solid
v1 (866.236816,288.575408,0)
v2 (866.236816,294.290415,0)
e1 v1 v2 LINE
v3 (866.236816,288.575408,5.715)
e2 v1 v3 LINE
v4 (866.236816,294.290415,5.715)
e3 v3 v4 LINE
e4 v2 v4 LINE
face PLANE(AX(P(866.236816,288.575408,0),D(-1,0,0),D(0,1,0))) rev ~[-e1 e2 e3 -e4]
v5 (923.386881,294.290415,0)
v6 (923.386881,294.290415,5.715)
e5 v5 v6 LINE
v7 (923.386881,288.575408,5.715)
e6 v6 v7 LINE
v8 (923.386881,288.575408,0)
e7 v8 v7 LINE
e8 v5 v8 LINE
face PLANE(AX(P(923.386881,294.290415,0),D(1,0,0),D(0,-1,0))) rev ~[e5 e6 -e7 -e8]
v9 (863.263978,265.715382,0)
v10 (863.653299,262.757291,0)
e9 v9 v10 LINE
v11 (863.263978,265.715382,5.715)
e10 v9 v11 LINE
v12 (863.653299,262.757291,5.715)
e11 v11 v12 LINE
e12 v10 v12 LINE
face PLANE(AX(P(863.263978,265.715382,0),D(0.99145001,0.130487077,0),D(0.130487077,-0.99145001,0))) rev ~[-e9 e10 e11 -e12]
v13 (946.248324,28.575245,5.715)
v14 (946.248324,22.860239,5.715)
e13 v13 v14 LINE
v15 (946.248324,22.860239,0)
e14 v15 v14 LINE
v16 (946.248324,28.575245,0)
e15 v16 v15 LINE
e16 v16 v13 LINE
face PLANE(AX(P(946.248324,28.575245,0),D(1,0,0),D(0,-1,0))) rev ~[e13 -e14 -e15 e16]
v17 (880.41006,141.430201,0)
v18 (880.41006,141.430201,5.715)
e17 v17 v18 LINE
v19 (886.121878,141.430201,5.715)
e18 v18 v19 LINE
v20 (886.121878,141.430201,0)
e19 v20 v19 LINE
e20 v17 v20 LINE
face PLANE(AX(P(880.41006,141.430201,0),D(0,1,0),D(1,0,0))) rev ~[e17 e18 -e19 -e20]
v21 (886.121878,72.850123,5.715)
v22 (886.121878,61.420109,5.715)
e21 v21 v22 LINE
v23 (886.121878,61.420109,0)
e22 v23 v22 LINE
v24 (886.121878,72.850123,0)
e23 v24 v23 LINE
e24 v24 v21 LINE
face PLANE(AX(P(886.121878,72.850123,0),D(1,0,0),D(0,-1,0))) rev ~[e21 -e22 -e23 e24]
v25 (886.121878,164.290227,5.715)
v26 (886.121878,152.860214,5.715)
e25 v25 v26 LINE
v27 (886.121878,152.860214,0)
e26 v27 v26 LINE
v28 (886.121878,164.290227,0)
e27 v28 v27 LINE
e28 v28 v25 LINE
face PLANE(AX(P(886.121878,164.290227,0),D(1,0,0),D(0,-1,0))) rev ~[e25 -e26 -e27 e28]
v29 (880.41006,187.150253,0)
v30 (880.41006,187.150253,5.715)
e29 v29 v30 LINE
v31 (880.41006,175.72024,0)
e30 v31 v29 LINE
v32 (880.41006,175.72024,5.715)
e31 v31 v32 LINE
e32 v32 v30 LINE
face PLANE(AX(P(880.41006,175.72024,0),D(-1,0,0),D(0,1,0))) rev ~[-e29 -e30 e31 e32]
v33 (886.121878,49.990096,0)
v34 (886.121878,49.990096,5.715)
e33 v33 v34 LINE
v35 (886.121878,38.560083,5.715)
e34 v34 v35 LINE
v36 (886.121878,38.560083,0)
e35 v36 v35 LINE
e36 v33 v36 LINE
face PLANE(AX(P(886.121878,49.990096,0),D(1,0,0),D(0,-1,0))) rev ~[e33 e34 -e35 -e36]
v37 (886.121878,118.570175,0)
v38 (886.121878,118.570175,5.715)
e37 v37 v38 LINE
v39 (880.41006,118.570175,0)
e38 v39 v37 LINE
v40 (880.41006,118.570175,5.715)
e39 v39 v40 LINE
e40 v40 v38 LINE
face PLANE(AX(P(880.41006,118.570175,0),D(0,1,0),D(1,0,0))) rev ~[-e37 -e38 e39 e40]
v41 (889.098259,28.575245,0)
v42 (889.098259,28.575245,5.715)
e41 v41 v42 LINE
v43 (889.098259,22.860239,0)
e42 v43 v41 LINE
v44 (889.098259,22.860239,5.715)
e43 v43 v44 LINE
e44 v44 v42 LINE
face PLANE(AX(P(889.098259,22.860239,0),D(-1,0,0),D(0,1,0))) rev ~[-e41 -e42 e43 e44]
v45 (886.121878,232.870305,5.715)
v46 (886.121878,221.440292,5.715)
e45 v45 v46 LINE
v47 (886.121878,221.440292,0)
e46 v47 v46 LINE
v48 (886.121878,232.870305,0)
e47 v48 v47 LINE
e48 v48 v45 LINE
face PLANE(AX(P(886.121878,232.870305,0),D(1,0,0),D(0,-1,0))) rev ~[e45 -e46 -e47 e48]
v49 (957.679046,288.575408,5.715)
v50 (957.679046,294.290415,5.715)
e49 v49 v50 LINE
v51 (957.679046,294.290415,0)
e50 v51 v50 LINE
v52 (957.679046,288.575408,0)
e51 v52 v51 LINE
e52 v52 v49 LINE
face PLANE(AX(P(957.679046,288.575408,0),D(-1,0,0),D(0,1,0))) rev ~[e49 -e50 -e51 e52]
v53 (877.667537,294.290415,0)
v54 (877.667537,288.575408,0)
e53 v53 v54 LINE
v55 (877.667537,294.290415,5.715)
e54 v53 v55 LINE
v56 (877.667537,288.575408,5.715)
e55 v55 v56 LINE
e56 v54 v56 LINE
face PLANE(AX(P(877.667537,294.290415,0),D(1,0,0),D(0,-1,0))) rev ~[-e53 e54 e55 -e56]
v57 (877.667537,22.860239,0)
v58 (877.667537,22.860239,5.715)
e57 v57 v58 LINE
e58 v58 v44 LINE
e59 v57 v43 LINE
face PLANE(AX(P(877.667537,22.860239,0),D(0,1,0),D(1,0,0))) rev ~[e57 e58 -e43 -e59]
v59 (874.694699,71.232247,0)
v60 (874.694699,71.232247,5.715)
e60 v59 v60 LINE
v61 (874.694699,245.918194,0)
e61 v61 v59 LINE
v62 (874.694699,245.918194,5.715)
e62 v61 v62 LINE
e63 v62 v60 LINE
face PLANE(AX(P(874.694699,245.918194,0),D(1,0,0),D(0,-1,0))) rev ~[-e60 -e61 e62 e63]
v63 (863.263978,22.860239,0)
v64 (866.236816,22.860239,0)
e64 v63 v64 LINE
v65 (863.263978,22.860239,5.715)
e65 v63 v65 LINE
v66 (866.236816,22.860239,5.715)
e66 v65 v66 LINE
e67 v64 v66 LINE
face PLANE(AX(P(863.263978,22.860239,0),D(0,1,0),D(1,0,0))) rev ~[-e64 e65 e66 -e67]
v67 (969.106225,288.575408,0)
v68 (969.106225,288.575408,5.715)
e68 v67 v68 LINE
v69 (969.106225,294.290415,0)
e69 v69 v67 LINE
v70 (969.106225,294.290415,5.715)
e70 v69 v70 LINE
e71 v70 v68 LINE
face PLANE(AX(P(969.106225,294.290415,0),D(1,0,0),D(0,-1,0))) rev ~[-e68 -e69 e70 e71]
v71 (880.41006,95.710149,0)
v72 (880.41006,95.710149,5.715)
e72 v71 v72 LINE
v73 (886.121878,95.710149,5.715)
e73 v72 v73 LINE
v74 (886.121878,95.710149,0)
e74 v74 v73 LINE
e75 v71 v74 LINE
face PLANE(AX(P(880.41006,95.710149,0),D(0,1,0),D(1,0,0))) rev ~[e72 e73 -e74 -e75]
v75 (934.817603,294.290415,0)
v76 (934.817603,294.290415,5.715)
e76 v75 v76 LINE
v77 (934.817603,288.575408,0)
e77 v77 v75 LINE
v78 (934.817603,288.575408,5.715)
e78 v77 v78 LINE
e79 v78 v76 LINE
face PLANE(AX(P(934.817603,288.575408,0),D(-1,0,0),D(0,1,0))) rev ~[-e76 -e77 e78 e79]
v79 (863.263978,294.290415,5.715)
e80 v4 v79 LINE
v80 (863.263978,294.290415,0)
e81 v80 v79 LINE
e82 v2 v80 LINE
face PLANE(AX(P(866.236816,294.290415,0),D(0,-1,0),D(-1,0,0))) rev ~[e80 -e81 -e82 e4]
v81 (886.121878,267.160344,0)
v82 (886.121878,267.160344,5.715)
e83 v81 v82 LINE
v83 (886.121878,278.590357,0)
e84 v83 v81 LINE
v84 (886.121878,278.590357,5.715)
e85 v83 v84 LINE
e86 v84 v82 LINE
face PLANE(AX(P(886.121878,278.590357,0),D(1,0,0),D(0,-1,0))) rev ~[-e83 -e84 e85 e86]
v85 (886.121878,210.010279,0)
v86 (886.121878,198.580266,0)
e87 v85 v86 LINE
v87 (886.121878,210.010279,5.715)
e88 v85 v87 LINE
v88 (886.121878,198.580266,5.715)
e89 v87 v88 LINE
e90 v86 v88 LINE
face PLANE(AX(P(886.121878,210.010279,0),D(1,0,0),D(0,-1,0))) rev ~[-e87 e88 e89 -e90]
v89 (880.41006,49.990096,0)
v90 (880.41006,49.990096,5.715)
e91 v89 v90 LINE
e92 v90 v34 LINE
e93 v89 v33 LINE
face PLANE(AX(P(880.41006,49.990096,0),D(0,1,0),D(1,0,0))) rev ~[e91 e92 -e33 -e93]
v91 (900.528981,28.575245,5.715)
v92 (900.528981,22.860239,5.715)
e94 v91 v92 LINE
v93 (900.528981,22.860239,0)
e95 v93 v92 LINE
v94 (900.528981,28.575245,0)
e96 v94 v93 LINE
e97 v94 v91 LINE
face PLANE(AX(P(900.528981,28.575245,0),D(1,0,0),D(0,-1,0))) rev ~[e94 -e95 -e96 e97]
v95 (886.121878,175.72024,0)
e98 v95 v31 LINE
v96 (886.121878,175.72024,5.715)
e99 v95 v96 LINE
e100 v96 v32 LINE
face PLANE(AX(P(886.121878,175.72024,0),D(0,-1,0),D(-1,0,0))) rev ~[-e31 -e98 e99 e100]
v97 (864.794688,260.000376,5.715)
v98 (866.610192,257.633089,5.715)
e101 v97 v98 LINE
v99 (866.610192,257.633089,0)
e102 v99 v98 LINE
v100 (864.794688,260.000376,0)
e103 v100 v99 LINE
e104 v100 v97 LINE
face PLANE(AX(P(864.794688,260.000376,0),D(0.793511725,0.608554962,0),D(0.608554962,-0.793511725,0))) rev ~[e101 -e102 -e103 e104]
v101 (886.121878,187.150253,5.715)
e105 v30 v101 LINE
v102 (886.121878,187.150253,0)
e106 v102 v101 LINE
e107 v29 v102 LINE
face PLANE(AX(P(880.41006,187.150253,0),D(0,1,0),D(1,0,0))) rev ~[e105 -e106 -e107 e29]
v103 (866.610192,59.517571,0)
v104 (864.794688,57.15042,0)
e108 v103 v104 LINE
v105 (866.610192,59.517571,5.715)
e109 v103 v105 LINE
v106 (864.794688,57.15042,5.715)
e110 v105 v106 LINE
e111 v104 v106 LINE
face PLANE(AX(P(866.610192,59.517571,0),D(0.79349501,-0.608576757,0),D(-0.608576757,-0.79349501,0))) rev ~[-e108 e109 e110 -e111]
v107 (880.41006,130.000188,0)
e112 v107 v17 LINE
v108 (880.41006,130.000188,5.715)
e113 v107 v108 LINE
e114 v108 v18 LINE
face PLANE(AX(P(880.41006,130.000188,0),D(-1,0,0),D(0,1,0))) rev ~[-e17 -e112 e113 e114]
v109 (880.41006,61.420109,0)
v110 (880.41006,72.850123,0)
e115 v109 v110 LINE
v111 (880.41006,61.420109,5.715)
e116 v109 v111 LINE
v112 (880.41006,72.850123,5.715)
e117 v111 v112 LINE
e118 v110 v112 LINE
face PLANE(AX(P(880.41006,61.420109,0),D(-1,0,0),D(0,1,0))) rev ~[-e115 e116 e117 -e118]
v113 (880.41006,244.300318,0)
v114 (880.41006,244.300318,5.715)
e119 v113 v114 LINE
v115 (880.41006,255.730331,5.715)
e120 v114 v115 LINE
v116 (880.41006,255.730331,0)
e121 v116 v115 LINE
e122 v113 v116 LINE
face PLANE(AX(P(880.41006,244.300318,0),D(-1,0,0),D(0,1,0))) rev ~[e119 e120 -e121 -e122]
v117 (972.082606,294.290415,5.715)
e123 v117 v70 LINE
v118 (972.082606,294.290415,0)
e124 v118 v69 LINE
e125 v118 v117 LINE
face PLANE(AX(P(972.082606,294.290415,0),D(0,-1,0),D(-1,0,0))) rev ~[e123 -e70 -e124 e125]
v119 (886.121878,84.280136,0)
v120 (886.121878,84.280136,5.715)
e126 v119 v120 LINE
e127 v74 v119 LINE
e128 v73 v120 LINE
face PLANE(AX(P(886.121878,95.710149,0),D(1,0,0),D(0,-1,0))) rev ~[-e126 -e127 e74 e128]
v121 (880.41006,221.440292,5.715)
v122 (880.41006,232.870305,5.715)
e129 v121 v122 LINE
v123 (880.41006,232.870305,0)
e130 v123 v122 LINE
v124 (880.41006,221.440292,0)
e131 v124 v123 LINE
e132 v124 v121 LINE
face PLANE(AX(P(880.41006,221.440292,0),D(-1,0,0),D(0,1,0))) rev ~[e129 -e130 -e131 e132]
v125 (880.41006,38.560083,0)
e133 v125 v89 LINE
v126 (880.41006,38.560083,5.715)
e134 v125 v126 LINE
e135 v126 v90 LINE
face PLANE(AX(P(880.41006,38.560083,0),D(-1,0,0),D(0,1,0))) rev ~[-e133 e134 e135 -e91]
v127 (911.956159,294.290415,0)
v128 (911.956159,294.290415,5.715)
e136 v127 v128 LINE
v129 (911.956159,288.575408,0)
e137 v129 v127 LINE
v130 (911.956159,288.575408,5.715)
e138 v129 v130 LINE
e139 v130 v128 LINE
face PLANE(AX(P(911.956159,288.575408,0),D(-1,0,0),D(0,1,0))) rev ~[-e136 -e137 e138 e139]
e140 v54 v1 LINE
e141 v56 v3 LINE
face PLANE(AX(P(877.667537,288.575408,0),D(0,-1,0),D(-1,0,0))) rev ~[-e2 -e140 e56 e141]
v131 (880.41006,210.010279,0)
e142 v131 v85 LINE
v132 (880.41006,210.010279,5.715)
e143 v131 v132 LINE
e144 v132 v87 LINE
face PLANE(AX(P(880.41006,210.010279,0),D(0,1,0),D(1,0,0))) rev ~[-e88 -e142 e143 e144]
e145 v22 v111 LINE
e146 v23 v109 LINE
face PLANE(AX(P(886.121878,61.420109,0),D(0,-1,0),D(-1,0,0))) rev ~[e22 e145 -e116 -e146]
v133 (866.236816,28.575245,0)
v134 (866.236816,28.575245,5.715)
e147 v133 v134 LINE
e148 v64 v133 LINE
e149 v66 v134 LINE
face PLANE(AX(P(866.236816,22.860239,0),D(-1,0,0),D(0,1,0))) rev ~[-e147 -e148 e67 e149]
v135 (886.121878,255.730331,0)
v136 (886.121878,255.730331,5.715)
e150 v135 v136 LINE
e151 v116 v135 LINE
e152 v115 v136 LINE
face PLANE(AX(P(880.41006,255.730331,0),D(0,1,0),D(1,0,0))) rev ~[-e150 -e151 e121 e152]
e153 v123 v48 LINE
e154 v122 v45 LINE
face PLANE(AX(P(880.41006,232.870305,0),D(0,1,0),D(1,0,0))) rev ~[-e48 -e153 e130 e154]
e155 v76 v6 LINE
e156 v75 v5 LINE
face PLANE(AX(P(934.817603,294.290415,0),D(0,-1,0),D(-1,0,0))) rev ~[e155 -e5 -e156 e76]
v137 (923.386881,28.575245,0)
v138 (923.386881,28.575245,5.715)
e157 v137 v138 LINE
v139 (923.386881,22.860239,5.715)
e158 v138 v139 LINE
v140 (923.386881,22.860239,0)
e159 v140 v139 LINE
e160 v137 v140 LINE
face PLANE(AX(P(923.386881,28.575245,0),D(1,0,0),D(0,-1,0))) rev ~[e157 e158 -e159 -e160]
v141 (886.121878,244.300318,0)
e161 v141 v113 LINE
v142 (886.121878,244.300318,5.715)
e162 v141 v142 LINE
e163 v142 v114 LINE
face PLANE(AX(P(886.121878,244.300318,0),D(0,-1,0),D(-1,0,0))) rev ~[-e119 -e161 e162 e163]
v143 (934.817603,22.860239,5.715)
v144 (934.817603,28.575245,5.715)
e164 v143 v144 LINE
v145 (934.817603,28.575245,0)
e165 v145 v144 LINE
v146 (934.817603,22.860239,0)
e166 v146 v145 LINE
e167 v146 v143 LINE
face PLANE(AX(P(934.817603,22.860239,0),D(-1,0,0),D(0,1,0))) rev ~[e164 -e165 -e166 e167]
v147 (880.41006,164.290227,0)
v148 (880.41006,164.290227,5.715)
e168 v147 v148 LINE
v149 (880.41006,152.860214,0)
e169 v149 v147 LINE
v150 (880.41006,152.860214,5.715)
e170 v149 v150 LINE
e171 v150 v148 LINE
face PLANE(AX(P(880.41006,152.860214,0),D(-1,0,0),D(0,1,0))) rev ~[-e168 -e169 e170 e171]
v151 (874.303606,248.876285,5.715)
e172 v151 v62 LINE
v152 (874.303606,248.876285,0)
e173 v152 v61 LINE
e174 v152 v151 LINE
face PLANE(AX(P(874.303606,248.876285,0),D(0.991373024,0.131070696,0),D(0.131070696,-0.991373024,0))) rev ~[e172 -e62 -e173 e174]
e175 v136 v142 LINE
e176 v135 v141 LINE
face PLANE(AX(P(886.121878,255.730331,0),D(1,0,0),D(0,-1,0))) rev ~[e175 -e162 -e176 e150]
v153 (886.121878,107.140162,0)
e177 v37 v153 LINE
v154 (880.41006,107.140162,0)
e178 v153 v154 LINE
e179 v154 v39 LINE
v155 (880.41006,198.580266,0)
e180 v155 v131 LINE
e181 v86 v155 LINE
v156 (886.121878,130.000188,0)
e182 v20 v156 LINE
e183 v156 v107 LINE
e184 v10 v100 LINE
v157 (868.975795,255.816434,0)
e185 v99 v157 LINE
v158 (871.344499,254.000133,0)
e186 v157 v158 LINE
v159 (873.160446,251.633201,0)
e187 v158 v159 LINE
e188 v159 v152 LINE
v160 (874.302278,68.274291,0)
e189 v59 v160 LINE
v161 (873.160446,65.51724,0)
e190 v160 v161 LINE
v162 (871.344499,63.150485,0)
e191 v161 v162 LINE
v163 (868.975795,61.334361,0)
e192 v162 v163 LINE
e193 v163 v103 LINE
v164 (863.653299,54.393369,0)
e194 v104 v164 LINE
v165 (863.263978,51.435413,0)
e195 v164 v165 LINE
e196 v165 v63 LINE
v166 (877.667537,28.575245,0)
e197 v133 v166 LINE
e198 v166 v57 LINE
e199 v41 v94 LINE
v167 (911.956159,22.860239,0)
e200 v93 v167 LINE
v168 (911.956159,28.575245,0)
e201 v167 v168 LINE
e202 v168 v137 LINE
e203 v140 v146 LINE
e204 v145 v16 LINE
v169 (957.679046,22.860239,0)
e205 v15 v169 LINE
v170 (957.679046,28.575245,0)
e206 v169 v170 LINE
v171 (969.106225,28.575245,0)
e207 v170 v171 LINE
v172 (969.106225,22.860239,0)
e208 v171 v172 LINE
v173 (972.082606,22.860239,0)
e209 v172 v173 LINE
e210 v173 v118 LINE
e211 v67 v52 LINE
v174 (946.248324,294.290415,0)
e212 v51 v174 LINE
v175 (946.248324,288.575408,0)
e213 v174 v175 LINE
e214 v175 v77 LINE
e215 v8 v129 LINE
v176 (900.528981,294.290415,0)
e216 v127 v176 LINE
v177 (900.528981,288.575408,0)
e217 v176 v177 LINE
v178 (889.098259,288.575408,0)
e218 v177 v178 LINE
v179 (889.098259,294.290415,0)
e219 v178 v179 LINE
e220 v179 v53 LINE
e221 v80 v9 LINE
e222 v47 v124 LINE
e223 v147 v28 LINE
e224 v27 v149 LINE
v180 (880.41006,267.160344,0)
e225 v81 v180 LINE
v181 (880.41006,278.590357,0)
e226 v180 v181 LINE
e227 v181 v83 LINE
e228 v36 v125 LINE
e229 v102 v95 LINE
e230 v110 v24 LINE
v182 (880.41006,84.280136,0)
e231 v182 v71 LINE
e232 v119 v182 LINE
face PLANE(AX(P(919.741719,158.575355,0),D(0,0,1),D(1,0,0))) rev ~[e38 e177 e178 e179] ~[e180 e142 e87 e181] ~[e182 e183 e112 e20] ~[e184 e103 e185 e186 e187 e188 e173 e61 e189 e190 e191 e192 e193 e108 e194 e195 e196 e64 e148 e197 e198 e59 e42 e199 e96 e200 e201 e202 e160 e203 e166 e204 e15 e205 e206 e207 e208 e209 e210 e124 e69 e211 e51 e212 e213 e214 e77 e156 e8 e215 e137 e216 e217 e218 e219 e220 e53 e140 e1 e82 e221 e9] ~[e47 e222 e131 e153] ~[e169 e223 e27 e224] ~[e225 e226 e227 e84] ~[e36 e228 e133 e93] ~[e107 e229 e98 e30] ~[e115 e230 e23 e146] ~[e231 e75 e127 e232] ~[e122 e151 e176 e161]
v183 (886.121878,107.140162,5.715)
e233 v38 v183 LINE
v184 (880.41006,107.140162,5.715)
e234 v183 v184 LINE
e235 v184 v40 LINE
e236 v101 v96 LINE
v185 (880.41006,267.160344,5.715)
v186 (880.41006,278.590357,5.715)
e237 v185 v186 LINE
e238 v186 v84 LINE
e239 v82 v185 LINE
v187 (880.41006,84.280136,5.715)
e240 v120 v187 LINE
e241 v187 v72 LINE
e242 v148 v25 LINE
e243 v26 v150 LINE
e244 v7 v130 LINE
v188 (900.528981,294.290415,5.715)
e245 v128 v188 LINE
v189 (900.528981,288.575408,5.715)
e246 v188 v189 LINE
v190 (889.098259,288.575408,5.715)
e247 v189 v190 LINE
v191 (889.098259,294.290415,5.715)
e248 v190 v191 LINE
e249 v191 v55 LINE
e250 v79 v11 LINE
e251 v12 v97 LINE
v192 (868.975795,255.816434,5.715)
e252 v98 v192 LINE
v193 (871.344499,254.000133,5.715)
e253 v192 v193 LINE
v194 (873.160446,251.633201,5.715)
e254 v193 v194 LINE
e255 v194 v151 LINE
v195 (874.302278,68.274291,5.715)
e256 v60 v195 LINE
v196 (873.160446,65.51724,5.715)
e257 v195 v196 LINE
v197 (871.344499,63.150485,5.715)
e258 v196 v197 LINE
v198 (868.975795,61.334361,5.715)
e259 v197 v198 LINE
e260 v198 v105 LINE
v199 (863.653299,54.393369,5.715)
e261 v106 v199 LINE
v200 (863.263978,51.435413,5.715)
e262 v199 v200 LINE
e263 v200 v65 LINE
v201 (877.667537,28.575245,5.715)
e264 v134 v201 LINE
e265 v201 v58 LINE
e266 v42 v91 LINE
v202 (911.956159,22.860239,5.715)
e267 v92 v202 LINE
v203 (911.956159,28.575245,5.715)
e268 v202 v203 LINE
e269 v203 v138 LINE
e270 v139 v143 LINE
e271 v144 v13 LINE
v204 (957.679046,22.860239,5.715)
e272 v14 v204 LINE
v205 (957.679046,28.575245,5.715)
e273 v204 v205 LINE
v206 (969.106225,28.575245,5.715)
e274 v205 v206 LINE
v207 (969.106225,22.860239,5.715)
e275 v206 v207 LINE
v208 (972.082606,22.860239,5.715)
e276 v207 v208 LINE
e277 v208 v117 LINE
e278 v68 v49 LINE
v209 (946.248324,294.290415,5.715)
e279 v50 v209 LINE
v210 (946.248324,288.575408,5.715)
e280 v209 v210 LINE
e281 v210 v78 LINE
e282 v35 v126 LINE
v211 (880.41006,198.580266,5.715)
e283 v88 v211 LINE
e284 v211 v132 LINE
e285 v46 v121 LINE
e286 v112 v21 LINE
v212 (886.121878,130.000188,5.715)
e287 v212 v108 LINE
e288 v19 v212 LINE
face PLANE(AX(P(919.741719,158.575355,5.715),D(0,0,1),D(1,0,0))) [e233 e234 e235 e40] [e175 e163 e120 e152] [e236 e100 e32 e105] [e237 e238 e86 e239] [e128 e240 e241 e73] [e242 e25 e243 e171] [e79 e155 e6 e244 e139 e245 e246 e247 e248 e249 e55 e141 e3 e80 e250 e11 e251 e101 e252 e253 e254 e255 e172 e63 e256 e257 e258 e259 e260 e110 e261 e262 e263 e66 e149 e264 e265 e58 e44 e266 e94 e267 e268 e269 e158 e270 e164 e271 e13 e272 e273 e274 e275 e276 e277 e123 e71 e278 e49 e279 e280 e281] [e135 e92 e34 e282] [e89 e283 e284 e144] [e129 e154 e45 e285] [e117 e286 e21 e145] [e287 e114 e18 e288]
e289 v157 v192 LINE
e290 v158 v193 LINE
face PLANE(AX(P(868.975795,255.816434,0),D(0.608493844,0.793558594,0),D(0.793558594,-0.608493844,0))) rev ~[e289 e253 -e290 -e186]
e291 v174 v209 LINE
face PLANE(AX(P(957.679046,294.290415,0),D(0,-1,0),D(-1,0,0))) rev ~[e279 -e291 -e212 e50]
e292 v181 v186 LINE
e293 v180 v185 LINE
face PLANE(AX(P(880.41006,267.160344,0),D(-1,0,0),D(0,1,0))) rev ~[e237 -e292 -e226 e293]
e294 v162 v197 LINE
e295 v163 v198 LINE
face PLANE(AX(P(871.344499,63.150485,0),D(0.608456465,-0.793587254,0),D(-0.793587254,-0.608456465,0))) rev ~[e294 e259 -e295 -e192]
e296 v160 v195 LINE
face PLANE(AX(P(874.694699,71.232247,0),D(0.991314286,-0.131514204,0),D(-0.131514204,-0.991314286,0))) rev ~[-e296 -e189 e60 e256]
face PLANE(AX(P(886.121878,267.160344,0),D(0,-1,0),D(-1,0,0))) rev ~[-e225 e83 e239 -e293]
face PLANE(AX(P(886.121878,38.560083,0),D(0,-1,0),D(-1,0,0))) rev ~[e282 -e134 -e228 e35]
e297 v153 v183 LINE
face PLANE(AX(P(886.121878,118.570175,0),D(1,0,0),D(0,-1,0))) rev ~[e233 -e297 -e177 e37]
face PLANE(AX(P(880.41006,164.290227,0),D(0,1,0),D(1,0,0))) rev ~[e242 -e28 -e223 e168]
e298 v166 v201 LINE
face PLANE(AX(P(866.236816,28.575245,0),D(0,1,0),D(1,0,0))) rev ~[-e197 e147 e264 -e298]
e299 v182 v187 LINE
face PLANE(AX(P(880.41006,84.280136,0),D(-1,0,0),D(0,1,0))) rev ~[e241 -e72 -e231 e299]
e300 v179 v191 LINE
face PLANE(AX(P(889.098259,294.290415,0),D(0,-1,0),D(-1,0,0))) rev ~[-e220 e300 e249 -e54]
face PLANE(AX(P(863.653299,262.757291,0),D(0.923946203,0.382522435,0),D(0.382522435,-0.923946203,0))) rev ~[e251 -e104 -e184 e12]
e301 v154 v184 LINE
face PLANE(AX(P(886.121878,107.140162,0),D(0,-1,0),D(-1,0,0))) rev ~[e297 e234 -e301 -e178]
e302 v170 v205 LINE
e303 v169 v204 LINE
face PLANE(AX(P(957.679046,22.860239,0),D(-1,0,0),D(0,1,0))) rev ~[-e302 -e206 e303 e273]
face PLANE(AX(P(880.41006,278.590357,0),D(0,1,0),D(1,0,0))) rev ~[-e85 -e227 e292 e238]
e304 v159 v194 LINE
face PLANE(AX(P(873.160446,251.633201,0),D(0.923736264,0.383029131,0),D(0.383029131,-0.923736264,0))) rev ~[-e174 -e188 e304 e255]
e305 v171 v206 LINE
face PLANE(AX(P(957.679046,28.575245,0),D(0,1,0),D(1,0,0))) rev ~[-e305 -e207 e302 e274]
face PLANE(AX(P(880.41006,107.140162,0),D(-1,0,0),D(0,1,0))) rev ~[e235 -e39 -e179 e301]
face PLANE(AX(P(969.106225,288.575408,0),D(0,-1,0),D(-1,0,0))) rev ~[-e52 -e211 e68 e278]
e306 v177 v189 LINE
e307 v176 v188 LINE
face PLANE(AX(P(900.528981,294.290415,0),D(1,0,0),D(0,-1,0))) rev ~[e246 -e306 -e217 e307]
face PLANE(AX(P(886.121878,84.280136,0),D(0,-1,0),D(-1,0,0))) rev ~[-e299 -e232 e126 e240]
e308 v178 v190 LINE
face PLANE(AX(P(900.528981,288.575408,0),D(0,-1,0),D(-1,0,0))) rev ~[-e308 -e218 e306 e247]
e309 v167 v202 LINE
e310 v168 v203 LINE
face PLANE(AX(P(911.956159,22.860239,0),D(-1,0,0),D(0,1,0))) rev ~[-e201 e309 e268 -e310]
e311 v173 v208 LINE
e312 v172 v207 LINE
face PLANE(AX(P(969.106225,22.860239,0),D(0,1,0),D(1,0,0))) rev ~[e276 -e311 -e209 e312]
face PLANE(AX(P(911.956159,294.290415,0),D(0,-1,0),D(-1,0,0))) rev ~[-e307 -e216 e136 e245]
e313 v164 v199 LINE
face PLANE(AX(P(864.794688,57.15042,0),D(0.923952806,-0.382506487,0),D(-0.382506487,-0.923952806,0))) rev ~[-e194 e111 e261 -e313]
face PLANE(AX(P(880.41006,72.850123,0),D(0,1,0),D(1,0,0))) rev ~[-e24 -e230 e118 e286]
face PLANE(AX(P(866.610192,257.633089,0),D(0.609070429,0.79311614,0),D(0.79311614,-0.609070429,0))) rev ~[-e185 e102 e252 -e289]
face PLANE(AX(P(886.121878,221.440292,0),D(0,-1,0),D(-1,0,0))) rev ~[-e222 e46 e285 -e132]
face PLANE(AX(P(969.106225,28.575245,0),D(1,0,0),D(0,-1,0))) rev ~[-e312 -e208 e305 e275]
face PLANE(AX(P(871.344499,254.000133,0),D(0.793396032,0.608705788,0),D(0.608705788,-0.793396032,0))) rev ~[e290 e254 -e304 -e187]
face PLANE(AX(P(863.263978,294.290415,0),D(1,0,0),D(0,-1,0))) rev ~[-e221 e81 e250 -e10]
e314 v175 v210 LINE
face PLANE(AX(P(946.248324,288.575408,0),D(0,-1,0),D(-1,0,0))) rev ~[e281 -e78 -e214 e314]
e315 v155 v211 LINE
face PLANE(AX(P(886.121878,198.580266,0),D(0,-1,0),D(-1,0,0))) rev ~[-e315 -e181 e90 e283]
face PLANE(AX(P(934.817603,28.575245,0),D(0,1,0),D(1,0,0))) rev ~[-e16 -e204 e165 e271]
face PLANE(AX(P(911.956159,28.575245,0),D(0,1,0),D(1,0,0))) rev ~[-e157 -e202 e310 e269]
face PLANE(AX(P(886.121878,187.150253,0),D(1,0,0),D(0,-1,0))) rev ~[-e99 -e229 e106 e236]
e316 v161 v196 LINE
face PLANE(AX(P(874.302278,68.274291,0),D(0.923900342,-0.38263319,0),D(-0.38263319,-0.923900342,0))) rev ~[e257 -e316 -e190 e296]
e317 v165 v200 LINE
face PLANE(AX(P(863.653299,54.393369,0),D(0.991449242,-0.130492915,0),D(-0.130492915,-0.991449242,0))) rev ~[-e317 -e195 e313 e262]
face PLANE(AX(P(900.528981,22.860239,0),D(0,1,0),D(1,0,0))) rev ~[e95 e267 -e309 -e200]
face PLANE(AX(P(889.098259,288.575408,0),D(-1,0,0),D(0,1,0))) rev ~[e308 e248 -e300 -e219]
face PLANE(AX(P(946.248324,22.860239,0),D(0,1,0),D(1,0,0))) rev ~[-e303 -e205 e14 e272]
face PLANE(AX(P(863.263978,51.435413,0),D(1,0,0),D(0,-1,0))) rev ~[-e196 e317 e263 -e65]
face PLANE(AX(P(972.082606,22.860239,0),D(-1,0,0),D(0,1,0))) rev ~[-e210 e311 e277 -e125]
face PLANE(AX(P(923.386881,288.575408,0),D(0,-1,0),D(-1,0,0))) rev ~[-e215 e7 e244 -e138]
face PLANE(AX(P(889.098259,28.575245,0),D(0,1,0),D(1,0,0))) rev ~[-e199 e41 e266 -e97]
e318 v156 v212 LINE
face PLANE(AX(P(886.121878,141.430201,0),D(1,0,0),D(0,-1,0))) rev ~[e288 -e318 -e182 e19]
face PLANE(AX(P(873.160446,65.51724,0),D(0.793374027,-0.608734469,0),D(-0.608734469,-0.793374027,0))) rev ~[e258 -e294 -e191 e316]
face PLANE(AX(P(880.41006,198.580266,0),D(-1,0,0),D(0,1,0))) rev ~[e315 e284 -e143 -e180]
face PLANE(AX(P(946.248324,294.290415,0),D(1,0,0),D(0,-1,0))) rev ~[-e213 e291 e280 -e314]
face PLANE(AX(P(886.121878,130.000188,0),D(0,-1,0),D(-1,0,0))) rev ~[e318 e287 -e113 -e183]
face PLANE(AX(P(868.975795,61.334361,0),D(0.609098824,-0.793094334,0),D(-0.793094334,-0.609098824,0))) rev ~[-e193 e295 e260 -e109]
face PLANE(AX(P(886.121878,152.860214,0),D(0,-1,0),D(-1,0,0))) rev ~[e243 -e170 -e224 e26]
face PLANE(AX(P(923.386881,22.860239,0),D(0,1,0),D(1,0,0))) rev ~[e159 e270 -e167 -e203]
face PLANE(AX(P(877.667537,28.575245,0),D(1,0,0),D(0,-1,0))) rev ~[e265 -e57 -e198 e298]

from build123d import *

# Parameters (mm, degrees)
BOSS_EXTRUDE1_DEPTH = 5.715


with BuildPart() as part:
    # Model → Boss-Extrude1 (new body)
    with BuildSketch(Plane.XY):
        Polygon((863.263977742, 22.860238699), (866.236815782, 22.860238699), (866.236815782, 28.575245224), (877.667537494, 28.575245224), (877.667537494, 22.860238699), (889.098259207, 22.860238699), (889.098259207, 28.575245224), (900.528980919, 28.575245224), (900.528980919, 22.860238699), (911.95615932, 22.860238699), (911.95615932, 28.575245224), (923.386881032, 28.575245224), (923.386881032, 22.860238699), (934.817602745, 22.860238699), (934.817602745, 28.575245224), (946.248324457, 28.575245224), (946.248324457, 22.860238699), (957.679046169, 22.860238699), (957.679046169, 28.575245224), (969.10622457, 28.575245224), (969.10622457, 22.860238699), (972.082605921, 22.860238699), (972.082605921, 28.575245224), (972.082605921, 288.575408216), (972.082605921, 294.290414741), (969.10622457, 294.290414741), (969.10622457, 288.575408216), (957.679046169, 288.575408216), (957.679046169, 294.290414741), (946.248324457, 294.290414741), (946.248324457, 288.575408216), (934.817602745, 288.575408216), (934.817602745, 294.290414741), (923.386881032, 294.290414741), (923.386881032, 288.575408216), (911.95615932, 288.575408216), (911.95615932, 294.290414741), (900.528980919, 294.290414741), (900.528980919, 288.575408216), (889.098259207, 288.575408216), (889.098259207, 294.290414741), (877.667537494, 294.290414741), (877.667537494, 288.575408216), (866.236815782, 288.575408216), (866.236815782, 294.290414741), (863.263977742, 294.290414741), (863.263977742, 288.575408216), (863.263977742, 265.715382116), (863.653299053, 262.757291337), (864.794688151, 260.000375591), (866.610192193, 257.633089424), (868.975795287, 255.816433806), (871.344498779, 254.00013252), (873.160445734, 251.633200684), (874.303606488, 248.876284937), (874.694699455, 245.918194159), (874.694699455, 71.232246682), (874.302277747, 68.274290549), (873.160445734, 65.517240157), (871.344498779, 63.150485487), (868.975795287, 61.334361366), (866.610192193, 59.517571103), (864.794688151, 57.150419581), (863.653299053, 54.393369189), (863.263977742, 51.435413056), (863.263977742, 28.575245224), align=None)
        Polygon((880.410060311, 272.875350921), (880.410060311, 278.590357446), (886.121877856, 278.590357446), (886.121877856, 267.160344396), (880.410060311, 267.160344396), align=None, mode=Mode.SUBTRACT)
        Polygon((880.410060311, 250.015324821), (880.410060311, 255.730331346), (886.121877856, 255.730331346), (886.121877856, 244.300318296), (880.410060311, 244.300318296), align=None, mode=Mode.SUBTRACT)
        Polygon((880.410060311, 227.155298721), (880.410060311, 232.870305246), (886.121877856, 232.870305246), (886.121877856, 221.440292196), (880.410060311, 221.440292196), align=None, mode=Mode.SUBTRACT)
        Polygon((880.410060311, 204.295272621), (880.410060311, 210.010279146), (886.121877856, 210.010279146), (886.121877856, 198.580266096), (880.410060311, 198.580266096), align=None, mode=Mode.SUBTRACT)
        Polygon((880.410060311, 181.435246521), (880.410060311, 187.150253046), (886.121877856, 187.150253046), (886.121877856, 175.720239996), (880.410060311, 175.720239996), align=None, mode=Mode.SUBTRACT)
        Polygon((880.410060311, 158.575220421), (880.410060311, 164.290226946), (886.121877856, 164.290226946), (886.121877856, 152.860213896), (880.410060311, 152.860213896), align=None, mode=Mode.SUBTRACT)
        Polygon((880.410060311, 135.71519432), (880.410060311, 141.430200846), (886.121877856, 141.430200846), (886.121877856, 130.000187795), (880.410060311, 130.000187795), align=None, mode=Mode.SUBTRACT)
        Polygon((880.410060311, 112.85516822), (880.410060311, 118.570174745), (886.121877856, 118.570174745), (886.121877856, 107.140161695), (880.410060311, 107.140161695), align=None, mode=Mode.SUBTRACT)
        Polygon((880.410060311, 89.99514212), (880.410060311, 95.710148645), (886.121877856, 95.710148645), (886.121877856, 84.280135595), (880.410060311, 84.280135595), align=None, mode=Mode.SUBTRACT)
        Polygon((880.410060311, 67.13511602), (880.410060311, 72.850122545), (886.121877856, 72.850122545), (886.121877856, 61.420109495), (880.410060311, 61.420109495), align=None, mode=Mode.SUBTRACT)
        Polygon((880.410060311, 44.27508992), (880.410060311, 49.990096445), (886.121877856, 49.990096445), (886.121877856, 38.560083395), (880.410060311, 38.560083395), align=None, mode=Mode.SUBTRACT)
    extrude(amount=BOSS_EXTRUDE1_DEPTH)


solid = part.part
